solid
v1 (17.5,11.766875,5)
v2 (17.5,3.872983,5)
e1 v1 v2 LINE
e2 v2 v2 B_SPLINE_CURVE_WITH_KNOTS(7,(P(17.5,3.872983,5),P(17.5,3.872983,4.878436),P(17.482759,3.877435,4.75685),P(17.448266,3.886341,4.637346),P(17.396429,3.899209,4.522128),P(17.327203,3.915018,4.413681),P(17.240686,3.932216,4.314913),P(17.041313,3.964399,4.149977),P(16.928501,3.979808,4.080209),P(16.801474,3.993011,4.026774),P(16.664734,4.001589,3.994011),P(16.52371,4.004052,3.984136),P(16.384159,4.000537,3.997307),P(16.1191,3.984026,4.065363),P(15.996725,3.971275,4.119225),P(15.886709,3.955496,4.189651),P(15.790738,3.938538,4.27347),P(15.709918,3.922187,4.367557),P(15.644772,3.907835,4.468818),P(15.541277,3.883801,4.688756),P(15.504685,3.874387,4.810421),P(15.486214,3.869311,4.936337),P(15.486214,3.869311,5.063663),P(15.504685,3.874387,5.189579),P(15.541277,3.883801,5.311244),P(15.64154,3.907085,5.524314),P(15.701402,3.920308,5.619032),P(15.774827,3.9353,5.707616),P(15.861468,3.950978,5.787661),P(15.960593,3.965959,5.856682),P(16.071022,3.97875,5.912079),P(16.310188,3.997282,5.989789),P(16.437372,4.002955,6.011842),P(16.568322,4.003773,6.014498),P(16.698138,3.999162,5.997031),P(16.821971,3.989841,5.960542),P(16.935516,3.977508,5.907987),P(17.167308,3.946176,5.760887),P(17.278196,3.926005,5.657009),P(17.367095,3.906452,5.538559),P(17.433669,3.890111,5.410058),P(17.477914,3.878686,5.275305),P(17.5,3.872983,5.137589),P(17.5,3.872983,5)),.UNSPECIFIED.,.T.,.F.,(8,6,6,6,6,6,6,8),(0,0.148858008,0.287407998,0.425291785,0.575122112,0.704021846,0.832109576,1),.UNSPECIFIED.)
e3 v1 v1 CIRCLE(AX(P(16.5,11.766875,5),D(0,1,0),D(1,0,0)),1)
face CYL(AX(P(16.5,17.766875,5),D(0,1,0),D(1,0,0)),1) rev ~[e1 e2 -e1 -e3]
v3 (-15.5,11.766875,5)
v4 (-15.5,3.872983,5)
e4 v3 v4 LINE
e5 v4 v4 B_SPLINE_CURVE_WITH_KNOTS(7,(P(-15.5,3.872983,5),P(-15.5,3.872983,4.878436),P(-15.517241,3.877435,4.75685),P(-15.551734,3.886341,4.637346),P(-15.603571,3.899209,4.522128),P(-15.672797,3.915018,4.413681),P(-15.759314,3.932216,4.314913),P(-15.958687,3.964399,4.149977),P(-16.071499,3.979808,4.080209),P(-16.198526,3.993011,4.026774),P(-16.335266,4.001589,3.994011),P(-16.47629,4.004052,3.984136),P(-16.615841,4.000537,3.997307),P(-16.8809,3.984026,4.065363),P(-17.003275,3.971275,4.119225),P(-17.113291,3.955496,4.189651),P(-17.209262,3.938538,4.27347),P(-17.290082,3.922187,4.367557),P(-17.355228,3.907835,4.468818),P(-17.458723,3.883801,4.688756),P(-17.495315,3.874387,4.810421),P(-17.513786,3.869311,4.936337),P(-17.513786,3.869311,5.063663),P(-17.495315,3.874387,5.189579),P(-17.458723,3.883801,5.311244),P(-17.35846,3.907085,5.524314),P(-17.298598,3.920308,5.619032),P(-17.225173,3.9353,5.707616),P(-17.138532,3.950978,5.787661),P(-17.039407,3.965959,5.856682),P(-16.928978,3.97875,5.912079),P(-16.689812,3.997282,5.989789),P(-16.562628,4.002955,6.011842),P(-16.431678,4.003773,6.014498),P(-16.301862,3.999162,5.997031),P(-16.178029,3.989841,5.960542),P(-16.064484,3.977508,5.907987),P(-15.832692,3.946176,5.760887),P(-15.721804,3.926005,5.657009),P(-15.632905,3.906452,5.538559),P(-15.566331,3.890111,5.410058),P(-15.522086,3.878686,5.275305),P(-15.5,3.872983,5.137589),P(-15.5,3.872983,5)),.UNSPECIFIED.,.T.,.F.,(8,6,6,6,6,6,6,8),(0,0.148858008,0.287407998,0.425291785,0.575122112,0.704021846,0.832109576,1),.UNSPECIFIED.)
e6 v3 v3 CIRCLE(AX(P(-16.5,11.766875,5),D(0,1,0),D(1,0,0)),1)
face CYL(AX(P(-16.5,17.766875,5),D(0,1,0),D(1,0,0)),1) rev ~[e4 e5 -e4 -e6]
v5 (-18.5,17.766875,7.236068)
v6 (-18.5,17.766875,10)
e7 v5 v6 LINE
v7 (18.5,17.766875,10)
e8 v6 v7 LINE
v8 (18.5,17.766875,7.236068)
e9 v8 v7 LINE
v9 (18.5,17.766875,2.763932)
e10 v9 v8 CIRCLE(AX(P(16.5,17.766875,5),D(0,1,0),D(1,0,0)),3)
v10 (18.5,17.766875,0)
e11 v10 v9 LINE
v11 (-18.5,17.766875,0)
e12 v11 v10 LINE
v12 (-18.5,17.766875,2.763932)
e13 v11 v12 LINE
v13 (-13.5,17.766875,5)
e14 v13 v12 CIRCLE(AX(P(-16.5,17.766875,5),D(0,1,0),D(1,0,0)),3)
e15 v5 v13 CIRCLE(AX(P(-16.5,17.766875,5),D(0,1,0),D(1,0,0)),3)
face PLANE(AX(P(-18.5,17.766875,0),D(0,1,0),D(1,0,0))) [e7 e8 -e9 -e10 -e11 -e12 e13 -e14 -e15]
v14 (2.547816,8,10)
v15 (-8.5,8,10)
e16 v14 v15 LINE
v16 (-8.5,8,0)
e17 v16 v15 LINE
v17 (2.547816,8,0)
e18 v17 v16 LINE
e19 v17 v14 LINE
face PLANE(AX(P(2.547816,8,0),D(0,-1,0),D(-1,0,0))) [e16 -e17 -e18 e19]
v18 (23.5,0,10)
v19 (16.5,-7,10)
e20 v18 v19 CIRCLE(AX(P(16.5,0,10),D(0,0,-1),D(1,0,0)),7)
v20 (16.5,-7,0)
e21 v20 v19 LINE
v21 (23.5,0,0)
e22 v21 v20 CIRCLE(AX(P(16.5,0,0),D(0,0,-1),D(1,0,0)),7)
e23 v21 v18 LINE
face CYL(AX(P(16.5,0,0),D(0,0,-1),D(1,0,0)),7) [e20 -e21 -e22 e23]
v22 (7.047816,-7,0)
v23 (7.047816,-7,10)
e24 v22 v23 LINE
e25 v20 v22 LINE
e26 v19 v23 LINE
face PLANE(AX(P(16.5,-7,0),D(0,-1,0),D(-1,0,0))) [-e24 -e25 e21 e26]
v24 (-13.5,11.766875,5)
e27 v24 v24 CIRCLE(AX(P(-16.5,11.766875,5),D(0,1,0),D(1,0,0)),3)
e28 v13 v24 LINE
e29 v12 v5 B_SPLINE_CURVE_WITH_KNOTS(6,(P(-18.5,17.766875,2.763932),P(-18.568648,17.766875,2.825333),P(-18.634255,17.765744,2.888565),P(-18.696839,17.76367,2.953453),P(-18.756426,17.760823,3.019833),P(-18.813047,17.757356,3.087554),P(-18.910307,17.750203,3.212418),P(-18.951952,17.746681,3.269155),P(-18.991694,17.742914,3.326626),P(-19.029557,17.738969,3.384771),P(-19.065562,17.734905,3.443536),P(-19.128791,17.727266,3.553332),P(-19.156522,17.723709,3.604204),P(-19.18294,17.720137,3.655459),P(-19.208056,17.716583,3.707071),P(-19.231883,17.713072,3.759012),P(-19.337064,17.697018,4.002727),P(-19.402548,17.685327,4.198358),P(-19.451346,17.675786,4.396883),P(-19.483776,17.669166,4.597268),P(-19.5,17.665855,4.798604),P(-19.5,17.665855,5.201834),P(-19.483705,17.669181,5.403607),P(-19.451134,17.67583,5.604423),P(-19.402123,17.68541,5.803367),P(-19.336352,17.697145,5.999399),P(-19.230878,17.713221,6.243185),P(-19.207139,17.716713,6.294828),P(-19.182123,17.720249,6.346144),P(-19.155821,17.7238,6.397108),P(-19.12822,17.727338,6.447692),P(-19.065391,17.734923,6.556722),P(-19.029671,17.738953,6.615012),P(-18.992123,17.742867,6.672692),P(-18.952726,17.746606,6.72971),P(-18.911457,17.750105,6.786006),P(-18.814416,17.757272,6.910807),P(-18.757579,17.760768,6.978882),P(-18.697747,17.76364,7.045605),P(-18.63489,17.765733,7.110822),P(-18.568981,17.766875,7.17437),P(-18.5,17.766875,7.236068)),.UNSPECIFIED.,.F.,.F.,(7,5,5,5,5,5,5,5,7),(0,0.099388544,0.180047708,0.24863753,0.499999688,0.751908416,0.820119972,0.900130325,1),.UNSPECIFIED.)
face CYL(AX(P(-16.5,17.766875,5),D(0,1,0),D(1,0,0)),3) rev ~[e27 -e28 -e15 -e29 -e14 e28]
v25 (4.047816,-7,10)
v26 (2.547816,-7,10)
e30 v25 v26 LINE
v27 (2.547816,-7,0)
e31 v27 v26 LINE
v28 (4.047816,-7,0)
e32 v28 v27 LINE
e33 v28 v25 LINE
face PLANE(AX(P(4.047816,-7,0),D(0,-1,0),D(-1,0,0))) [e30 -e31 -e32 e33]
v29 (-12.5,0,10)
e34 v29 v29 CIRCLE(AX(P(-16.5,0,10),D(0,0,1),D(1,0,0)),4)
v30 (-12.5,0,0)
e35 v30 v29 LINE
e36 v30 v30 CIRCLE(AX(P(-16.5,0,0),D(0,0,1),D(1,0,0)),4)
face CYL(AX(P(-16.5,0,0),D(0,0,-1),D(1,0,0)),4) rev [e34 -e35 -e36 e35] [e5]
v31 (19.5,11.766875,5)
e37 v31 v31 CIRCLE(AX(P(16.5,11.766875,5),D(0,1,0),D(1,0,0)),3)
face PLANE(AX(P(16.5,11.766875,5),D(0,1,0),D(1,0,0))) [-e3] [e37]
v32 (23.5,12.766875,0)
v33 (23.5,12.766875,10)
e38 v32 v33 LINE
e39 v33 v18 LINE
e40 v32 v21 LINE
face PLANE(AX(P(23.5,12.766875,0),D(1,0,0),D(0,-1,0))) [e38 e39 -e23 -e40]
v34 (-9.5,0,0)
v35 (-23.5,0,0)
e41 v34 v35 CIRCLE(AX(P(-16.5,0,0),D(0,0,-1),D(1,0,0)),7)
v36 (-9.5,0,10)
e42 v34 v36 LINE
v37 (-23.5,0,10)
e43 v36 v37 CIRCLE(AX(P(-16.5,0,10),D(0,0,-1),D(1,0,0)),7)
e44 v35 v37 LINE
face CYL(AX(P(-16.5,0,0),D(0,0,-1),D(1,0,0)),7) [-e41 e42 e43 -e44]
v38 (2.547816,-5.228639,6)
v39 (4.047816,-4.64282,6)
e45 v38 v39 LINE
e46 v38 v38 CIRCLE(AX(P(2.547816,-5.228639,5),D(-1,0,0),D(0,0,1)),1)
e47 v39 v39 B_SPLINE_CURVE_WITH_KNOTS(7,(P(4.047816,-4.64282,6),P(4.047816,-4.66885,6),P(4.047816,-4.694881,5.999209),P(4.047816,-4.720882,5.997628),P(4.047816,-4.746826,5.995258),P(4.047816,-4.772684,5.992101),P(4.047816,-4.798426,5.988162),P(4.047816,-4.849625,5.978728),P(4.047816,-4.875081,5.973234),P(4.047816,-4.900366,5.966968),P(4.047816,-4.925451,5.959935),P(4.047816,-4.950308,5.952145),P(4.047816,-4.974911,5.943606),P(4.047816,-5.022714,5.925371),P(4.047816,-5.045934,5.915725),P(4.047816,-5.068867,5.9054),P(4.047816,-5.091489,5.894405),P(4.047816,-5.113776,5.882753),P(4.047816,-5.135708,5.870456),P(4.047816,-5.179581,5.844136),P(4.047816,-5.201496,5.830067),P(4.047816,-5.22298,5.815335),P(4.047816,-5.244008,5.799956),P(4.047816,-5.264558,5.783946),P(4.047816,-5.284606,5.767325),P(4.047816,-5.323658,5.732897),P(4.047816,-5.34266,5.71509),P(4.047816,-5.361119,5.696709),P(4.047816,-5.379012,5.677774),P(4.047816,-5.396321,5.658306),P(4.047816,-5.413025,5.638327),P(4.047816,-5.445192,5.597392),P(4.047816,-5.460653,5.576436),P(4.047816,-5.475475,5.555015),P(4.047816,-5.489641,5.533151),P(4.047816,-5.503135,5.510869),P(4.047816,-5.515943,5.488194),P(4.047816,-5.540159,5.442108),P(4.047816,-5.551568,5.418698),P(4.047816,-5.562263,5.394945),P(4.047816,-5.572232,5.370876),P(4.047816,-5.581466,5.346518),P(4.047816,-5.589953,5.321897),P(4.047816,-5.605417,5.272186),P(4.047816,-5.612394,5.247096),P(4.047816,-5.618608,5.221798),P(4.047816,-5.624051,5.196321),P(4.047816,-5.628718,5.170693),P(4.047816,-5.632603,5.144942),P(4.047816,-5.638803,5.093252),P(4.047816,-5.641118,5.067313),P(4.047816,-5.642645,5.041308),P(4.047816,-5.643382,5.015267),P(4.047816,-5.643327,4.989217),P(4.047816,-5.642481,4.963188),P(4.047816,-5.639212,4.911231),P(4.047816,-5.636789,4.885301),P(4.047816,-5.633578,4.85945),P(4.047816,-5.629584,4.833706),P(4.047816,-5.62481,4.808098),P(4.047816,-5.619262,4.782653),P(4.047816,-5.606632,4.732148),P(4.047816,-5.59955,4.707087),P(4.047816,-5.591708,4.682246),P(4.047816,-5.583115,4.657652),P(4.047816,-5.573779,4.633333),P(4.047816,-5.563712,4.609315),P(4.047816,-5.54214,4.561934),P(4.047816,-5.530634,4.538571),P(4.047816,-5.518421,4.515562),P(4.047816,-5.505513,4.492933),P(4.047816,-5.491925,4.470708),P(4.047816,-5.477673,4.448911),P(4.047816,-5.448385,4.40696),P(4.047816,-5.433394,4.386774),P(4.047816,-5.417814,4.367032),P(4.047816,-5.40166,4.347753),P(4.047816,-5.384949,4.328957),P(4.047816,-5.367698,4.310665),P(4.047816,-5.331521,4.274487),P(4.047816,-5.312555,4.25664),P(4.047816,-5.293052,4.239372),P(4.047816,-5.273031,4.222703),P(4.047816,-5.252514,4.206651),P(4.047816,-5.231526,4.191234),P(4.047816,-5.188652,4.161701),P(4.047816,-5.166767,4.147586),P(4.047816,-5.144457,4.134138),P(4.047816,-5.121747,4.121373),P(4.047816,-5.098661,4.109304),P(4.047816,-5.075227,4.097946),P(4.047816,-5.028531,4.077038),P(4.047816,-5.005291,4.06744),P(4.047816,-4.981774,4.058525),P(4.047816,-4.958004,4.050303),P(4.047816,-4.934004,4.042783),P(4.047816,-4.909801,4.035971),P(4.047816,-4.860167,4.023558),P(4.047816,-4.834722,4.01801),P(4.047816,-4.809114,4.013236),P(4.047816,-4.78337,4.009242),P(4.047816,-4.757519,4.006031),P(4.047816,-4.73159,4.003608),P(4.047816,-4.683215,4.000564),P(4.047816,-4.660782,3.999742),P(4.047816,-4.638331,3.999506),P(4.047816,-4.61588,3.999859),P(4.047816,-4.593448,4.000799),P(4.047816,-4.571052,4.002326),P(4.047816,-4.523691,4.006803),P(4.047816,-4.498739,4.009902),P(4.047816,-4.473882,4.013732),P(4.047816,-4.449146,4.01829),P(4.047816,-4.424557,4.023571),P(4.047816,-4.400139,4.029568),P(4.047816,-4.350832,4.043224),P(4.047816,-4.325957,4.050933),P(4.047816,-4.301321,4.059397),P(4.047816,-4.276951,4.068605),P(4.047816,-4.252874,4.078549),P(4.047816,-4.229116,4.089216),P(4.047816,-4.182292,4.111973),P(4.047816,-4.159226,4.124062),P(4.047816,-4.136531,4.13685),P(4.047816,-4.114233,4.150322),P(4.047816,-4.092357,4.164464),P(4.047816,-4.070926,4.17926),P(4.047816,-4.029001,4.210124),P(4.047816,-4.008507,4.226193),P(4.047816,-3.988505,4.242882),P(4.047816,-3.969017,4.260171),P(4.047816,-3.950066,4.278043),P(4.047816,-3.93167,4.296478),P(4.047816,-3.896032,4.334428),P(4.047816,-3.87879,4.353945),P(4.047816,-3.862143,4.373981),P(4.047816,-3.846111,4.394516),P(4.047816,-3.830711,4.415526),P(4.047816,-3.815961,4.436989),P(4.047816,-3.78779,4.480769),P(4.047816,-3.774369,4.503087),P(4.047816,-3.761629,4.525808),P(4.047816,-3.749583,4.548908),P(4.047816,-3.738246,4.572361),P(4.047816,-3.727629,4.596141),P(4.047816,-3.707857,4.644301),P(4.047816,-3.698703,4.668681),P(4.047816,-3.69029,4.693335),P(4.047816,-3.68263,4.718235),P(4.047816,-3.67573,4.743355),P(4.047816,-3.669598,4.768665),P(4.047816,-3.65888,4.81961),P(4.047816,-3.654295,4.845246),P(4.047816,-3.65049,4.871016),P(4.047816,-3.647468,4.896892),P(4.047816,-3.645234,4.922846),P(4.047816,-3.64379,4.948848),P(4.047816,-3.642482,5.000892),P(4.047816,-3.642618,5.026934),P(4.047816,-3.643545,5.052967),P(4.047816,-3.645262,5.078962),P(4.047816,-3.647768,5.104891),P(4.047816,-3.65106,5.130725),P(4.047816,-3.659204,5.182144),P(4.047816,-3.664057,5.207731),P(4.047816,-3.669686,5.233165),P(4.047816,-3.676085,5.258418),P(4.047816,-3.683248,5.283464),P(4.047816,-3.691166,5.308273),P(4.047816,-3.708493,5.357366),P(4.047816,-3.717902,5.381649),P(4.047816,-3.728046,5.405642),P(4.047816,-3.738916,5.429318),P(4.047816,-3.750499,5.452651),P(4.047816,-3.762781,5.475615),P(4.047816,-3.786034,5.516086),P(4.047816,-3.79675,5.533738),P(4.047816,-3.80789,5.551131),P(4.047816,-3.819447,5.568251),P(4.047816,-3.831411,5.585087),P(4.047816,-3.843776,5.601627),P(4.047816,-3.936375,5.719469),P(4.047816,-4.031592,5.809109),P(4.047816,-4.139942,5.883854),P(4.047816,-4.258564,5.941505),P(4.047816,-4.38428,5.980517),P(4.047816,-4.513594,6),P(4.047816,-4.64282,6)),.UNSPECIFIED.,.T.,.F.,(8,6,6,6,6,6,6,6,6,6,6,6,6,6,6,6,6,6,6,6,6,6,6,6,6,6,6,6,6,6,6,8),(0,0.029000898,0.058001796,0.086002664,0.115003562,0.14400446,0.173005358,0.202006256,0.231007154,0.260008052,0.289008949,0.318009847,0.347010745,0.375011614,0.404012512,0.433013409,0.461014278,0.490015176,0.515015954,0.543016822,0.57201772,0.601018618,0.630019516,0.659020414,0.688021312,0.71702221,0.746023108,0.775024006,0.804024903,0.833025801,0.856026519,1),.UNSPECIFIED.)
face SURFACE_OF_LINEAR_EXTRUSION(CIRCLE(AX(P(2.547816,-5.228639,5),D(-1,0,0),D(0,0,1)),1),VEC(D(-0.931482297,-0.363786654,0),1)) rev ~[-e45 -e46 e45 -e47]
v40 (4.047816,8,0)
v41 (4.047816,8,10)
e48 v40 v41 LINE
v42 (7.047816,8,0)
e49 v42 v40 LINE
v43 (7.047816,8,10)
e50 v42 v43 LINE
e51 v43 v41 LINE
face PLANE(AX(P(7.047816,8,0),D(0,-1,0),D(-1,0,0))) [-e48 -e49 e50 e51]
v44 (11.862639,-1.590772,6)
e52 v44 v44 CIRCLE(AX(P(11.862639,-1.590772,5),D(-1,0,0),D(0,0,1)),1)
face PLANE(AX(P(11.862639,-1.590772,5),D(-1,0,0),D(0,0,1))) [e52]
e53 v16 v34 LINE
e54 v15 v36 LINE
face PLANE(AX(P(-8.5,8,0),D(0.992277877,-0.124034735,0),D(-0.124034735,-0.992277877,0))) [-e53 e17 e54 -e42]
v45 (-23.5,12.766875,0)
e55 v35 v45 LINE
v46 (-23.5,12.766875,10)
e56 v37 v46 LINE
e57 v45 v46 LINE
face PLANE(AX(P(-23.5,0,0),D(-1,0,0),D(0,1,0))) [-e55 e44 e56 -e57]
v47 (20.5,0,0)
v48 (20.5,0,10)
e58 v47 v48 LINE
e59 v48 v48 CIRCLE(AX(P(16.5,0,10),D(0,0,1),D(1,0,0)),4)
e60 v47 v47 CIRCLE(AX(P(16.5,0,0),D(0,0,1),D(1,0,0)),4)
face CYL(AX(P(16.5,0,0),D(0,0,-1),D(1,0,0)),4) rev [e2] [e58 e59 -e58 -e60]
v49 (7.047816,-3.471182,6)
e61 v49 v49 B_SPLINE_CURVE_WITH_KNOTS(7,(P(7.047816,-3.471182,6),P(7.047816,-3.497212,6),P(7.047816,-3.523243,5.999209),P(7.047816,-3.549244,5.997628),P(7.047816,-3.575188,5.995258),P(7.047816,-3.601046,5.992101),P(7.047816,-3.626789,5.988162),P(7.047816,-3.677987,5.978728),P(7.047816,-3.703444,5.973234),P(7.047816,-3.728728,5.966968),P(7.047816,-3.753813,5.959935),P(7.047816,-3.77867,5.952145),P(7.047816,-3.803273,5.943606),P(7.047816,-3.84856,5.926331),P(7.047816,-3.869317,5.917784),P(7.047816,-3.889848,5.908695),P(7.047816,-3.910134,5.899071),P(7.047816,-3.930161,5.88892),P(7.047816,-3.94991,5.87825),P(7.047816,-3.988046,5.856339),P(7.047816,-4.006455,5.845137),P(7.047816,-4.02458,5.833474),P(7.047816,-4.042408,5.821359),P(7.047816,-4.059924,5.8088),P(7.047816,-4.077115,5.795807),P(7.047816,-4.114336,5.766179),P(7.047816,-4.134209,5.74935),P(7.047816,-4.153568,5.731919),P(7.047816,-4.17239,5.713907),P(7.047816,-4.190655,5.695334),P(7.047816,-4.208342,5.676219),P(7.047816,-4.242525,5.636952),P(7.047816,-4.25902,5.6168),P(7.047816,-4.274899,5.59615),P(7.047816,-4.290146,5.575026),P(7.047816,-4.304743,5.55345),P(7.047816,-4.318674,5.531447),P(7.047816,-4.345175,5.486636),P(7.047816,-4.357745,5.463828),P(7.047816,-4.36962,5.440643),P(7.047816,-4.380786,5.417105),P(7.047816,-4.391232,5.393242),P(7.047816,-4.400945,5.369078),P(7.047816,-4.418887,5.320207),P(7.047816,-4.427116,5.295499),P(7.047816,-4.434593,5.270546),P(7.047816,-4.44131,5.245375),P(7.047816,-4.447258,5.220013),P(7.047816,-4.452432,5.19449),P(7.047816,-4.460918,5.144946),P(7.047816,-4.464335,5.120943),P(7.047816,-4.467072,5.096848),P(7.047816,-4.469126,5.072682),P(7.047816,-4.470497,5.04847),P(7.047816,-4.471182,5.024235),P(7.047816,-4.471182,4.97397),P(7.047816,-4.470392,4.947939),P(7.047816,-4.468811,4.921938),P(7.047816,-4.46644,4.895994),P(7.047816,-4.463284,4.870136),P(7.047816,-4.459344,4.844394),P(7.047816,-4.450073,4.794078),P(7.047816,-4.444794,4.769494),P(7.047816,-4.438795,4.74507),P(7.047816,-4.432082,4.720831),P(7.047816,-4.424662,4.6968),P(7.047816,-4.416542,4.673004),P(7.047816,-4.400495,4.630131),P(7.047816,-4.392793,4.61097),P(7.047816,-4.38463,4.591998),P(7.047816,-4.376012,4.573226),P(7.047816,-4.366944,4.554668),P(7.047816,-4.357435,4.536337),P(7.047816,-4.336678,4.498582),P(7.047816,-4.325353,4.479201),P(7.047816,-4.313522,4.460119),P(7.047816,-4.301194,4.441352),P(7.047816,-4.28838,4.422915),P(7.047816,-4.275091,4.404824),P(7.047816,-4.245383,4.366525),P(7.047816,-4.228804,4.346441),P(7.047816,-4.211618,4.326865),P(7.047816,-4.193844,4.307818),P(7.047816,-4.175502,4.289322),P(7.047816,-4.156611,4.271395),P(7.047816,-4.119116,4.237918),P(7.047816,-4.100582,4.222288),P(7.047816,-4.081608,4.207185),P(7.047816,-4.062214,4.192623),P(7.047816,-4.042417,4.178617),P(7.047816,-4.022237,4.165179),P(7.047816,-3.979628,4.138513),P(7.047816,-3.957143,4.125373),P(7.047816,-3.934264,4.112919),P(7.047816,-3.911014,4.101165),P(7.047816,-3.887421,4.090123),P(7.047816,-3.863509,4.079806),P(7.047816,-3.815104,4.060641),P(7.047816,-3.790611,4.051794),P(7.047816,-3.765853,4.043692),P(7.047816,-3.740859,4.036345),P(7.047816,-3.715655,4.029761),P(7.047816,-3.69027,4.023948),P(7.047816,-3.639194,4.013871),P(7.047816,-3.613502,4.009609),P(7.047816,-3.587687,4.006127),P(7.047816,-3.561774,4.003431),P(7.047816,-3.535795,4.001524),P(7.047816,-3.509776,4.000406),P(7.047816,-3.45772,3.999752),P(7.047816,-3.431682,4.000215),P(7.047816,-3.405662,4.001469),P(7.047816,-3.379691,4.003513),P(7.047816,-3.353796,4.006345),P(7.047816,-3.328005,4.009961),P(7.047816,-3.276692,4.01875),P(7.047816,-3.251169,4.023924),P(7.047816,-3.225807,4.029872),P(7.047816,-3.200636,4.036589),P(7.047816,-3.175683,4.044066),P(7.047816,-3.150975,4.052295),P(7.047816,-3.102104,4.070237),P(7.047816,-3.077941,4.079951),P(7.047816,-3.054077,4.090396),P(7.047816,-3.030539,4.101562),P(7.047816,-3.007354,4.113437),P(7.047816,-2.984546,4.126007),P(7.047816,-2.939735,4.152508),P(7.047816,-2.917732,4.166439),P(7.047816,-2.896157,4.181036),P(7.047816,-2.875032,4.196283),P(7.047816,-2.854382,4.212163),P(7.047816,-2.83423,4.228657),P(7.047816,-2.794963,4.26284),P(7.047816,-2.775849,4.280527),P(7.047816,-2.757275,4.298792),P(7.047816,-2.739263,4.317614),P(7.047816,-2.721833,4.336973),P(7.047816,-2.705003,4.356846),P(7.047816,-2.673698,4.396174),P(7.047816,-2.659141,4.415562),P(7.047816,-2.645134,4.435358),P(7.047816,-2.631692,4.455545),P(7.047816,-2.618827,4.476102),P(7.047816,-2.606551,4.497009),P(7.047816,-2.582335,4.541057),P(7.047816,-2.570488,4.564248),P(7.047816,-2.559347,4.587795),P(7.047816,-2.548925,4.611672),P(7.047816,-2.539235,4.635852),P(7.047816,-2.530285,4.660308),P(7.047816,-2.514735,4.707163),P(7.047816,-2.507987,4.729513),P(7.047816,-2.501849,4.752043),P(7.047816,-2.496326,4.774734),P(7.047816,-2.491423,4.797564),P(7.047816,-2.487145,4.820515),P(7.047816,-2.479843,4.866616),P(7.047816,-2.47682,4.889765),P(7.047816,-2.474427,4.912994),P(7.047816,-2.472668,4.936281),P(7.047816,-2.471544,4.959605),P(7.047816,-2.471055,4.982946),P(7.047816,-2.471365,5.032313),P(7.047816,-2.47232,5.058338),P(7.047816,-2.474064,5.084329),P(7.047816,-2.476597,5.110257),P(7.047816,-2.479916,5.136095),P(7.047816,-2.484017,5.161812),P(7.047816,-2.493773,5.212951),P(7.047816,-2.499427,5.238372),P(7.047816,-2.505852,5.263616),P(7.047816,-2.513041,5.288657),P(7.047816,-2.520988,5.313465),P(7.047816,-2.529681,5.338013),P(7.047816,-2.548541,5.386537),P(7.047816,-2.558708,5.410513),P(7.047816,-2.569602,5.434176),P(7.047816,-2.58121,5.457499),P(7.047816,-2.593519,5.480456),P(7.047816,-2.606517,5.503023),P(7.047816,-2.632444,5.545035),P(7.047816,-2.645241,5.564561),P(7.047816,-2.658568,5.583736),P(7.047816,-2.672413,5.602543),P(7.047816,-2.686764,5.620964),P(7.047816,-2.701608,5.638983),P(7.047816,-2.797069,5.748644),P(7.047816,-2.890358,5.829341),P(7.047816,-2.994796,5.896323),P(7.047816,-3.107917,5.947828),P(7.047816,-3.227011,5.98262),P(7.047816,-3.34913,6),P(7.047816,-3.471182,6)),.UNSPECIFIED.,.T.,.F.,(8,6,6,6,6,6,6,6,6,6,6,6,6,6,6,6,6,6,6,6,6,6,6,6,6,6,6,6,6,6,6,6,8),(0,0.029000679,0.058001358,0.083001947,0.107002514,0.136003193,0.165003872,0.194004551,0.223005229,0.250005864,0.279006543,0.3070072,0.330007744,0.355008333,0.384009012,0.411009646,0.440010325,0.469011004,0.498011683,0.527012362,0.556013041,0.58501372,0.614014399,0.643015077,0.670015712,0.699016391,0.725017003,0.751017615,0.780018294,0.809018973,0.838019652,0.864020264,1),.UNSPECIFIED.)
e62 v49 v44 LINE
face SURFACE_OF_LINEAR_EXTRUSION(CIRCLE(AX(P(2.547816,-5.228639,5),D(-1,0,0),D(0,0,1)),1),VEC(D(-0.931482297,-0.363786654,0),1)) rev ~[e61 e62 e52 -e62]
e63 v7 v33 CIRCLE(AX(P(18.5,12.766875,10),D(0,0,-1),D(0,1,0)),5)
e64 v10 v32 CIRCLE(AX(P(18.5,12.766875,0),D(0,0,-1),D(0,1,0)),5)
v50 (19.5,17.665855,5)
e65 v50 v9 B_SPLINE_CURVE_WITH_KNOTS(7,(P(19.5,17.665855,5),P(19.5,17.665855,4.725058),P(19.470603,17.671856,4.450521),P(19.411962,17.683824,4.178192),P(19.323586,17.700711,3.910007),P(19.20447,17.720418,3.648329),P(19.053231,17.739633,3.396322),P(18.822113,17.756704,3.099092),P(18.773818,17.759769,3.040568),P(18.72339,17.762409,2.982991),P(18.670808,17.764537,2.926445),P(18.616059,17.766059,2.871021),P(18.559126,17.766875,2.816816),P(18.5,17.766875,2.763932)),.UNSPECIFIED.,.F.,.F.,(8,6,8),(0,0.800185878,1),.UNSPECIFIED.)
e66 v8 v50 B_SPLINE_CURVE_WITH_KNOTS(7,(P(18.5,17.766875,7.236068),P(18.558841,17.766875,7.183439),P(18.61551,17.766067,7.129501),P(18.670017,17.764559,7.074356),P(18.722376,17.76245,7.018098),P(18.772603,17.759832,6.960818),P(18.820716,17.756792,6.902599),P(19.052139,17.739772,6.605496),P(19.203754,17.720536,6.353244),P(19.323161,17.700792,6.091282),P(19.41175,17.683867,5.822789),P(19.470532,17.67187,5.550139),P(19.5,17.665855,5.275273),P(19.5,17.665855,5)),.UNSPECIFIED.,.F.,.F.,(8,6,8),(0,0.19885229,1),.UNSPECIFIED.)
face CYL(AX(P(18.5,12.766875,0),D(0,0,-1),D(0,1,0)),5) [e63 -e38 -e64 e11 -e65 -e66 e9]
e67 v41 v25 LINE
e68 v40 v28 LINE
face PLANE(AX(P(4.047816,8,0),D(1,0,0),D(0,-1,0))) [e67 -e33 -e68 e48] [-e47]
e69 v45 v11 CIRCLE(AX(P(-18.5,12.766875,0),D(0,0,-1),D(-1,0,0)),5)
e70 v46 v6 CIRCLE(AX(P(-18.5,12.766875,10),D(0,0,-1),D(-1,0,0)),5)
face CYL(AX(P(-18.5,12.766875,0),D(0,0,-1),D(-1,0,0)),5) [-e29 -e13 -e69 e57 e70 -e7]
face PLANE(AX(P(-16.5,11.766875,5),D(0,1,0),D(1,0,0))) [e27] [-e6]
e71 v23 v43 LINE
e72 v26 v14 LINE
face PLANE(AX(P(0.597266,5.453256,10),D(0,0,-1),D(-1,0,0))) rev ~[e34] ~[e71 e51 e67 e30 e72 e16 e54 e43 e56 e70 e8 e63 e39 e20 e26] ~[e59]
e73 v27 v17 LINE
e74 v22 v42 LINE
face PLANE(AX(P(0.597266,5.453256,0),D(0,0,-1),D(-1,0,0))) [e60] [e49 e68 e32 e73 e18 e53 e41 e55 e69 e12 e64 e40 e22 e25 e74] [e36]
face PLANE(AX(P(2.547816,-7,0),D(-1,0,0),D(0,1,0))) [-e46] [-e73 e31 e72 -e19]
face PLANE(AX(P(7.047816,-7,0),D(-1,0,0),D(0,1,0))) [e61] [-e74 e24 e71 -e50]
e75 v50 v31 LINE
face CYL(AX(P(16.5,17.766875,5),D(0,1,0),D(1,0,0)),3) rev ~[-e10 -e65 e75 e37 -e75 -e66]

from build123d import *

# Parameters (mm, degrees)
ESBO_O1_R                = 4
RESSALTO_EXTRUS_O1_DEPTH = 10
ESBO_O2_R                = 1
CORTE_EXTRUS_O1_DEPTH    = 10
ESBO_O3_R                = 1
CORTE_EXTRUS_O2_DEPTH    = 20
ESBO_O5_R                = 3
CORTE_EXTRUS_O3_DEPTH    = 6


with BuildPart() as part:
    # Esboço1 → Ressalto-extrusão1 (new body)
    with BuildSketch(Plane.XY):
        with BuildLine():
            Line((-23.5, 0), (-23.5, 12.766875201))
            ThreePointArc((-23.5, 12.766875201), (-22.035533906, 16.302409107), (-18.5, 17.766875201))
            Line((-18.5, 17.766875201), (18.5, 17.766875201))
            ThreePointArc((18.5, 17.766875201), (22.035533906, 16.302409107), (23.5, 12.766875201))
            Line((23.5, 12.766875201), (23.5, 0))
            ThreePointArc((23.5, 0), (21.449747468, -4.949747468), (16.5, -7))
            Line((16.5, -7), (7.047816286, -7))
            Line((7.047816286, -7), (7.047816286, 8))
            Line((7.047816286, 8), (4.047816286, 8))
            Line((4.047816286, 8), (4.047816286, -7))
            Line((4.047816286, -7), (2.547816286, -7))
            Line((2.547816286, -7), (2.547816286, 8))
            Line((2.547816286, 8), (-8.5, 8))
            Line((-8.5, 8), (-9.5, 0))
            ThreePointArc((-9.5, 0), (-16.5, -7), (-23.5, 0))
        make_face()
        with Locations((-16.5, 0)):
            Circle(ESBO_O1_R, mode=Mode.SUBTRACT)
        with Locations((16.5, 0)):
            Circle(ESBO_O1_R, mode=Mode.SUBTRACT)
    extrude(amount=RESSALTO_EXTRUS_O1_DEPTH)

    # Esboço2 → Corte-extrusão1 (cut, along a direction that is not the sketch's normal)
    with BuildSketch(Plane.ZY.offset(-2.547816286)):
        with Locations((5, -5.228639013)):
            Circle(ESBO_O2_R)
    extrude(amount=-CORTE_EXTRUS_O1_DEPTH, dir=(-0.931482298, -0.363786654, 0), mode=Mode.SUBTRACT)

    # Esboço3 → Corte-extrusão2 (cut)
    with BuildSketch(Plane(origin=(0, 17.766875201, 0), x_dir=(1, 0, 0), z_dir=(0, 1, 0))):
        with Locations((-16.5, -5)):
            Circle(ESBO_O3_R)
        with Locations((16.5, -5)):
            Circle(ESBO_O3_R)
    extrude(amount=-CORTE_EXTRUS_O2_DEPTH, mode=Mode.SUBTRACT)

    # Esboço5 → Corte-extrusão3 (cut)
    with BuildSketch(Plane(origin=(0, 17.766875201, 0), x_dir=(1, 0, 0), z_dir=(0, 1, 0))):
        with Locations((-16.5, -5)):
            Circle(ESBO_O5_R)
        with Locations((16.5, -5)):
            Circle(ESBO_O5_R)
    extrude(amount=-CORTE_EXTRUS_O3_DEPTH, mode=Mode.SUBTRACT)


solid = part.part
